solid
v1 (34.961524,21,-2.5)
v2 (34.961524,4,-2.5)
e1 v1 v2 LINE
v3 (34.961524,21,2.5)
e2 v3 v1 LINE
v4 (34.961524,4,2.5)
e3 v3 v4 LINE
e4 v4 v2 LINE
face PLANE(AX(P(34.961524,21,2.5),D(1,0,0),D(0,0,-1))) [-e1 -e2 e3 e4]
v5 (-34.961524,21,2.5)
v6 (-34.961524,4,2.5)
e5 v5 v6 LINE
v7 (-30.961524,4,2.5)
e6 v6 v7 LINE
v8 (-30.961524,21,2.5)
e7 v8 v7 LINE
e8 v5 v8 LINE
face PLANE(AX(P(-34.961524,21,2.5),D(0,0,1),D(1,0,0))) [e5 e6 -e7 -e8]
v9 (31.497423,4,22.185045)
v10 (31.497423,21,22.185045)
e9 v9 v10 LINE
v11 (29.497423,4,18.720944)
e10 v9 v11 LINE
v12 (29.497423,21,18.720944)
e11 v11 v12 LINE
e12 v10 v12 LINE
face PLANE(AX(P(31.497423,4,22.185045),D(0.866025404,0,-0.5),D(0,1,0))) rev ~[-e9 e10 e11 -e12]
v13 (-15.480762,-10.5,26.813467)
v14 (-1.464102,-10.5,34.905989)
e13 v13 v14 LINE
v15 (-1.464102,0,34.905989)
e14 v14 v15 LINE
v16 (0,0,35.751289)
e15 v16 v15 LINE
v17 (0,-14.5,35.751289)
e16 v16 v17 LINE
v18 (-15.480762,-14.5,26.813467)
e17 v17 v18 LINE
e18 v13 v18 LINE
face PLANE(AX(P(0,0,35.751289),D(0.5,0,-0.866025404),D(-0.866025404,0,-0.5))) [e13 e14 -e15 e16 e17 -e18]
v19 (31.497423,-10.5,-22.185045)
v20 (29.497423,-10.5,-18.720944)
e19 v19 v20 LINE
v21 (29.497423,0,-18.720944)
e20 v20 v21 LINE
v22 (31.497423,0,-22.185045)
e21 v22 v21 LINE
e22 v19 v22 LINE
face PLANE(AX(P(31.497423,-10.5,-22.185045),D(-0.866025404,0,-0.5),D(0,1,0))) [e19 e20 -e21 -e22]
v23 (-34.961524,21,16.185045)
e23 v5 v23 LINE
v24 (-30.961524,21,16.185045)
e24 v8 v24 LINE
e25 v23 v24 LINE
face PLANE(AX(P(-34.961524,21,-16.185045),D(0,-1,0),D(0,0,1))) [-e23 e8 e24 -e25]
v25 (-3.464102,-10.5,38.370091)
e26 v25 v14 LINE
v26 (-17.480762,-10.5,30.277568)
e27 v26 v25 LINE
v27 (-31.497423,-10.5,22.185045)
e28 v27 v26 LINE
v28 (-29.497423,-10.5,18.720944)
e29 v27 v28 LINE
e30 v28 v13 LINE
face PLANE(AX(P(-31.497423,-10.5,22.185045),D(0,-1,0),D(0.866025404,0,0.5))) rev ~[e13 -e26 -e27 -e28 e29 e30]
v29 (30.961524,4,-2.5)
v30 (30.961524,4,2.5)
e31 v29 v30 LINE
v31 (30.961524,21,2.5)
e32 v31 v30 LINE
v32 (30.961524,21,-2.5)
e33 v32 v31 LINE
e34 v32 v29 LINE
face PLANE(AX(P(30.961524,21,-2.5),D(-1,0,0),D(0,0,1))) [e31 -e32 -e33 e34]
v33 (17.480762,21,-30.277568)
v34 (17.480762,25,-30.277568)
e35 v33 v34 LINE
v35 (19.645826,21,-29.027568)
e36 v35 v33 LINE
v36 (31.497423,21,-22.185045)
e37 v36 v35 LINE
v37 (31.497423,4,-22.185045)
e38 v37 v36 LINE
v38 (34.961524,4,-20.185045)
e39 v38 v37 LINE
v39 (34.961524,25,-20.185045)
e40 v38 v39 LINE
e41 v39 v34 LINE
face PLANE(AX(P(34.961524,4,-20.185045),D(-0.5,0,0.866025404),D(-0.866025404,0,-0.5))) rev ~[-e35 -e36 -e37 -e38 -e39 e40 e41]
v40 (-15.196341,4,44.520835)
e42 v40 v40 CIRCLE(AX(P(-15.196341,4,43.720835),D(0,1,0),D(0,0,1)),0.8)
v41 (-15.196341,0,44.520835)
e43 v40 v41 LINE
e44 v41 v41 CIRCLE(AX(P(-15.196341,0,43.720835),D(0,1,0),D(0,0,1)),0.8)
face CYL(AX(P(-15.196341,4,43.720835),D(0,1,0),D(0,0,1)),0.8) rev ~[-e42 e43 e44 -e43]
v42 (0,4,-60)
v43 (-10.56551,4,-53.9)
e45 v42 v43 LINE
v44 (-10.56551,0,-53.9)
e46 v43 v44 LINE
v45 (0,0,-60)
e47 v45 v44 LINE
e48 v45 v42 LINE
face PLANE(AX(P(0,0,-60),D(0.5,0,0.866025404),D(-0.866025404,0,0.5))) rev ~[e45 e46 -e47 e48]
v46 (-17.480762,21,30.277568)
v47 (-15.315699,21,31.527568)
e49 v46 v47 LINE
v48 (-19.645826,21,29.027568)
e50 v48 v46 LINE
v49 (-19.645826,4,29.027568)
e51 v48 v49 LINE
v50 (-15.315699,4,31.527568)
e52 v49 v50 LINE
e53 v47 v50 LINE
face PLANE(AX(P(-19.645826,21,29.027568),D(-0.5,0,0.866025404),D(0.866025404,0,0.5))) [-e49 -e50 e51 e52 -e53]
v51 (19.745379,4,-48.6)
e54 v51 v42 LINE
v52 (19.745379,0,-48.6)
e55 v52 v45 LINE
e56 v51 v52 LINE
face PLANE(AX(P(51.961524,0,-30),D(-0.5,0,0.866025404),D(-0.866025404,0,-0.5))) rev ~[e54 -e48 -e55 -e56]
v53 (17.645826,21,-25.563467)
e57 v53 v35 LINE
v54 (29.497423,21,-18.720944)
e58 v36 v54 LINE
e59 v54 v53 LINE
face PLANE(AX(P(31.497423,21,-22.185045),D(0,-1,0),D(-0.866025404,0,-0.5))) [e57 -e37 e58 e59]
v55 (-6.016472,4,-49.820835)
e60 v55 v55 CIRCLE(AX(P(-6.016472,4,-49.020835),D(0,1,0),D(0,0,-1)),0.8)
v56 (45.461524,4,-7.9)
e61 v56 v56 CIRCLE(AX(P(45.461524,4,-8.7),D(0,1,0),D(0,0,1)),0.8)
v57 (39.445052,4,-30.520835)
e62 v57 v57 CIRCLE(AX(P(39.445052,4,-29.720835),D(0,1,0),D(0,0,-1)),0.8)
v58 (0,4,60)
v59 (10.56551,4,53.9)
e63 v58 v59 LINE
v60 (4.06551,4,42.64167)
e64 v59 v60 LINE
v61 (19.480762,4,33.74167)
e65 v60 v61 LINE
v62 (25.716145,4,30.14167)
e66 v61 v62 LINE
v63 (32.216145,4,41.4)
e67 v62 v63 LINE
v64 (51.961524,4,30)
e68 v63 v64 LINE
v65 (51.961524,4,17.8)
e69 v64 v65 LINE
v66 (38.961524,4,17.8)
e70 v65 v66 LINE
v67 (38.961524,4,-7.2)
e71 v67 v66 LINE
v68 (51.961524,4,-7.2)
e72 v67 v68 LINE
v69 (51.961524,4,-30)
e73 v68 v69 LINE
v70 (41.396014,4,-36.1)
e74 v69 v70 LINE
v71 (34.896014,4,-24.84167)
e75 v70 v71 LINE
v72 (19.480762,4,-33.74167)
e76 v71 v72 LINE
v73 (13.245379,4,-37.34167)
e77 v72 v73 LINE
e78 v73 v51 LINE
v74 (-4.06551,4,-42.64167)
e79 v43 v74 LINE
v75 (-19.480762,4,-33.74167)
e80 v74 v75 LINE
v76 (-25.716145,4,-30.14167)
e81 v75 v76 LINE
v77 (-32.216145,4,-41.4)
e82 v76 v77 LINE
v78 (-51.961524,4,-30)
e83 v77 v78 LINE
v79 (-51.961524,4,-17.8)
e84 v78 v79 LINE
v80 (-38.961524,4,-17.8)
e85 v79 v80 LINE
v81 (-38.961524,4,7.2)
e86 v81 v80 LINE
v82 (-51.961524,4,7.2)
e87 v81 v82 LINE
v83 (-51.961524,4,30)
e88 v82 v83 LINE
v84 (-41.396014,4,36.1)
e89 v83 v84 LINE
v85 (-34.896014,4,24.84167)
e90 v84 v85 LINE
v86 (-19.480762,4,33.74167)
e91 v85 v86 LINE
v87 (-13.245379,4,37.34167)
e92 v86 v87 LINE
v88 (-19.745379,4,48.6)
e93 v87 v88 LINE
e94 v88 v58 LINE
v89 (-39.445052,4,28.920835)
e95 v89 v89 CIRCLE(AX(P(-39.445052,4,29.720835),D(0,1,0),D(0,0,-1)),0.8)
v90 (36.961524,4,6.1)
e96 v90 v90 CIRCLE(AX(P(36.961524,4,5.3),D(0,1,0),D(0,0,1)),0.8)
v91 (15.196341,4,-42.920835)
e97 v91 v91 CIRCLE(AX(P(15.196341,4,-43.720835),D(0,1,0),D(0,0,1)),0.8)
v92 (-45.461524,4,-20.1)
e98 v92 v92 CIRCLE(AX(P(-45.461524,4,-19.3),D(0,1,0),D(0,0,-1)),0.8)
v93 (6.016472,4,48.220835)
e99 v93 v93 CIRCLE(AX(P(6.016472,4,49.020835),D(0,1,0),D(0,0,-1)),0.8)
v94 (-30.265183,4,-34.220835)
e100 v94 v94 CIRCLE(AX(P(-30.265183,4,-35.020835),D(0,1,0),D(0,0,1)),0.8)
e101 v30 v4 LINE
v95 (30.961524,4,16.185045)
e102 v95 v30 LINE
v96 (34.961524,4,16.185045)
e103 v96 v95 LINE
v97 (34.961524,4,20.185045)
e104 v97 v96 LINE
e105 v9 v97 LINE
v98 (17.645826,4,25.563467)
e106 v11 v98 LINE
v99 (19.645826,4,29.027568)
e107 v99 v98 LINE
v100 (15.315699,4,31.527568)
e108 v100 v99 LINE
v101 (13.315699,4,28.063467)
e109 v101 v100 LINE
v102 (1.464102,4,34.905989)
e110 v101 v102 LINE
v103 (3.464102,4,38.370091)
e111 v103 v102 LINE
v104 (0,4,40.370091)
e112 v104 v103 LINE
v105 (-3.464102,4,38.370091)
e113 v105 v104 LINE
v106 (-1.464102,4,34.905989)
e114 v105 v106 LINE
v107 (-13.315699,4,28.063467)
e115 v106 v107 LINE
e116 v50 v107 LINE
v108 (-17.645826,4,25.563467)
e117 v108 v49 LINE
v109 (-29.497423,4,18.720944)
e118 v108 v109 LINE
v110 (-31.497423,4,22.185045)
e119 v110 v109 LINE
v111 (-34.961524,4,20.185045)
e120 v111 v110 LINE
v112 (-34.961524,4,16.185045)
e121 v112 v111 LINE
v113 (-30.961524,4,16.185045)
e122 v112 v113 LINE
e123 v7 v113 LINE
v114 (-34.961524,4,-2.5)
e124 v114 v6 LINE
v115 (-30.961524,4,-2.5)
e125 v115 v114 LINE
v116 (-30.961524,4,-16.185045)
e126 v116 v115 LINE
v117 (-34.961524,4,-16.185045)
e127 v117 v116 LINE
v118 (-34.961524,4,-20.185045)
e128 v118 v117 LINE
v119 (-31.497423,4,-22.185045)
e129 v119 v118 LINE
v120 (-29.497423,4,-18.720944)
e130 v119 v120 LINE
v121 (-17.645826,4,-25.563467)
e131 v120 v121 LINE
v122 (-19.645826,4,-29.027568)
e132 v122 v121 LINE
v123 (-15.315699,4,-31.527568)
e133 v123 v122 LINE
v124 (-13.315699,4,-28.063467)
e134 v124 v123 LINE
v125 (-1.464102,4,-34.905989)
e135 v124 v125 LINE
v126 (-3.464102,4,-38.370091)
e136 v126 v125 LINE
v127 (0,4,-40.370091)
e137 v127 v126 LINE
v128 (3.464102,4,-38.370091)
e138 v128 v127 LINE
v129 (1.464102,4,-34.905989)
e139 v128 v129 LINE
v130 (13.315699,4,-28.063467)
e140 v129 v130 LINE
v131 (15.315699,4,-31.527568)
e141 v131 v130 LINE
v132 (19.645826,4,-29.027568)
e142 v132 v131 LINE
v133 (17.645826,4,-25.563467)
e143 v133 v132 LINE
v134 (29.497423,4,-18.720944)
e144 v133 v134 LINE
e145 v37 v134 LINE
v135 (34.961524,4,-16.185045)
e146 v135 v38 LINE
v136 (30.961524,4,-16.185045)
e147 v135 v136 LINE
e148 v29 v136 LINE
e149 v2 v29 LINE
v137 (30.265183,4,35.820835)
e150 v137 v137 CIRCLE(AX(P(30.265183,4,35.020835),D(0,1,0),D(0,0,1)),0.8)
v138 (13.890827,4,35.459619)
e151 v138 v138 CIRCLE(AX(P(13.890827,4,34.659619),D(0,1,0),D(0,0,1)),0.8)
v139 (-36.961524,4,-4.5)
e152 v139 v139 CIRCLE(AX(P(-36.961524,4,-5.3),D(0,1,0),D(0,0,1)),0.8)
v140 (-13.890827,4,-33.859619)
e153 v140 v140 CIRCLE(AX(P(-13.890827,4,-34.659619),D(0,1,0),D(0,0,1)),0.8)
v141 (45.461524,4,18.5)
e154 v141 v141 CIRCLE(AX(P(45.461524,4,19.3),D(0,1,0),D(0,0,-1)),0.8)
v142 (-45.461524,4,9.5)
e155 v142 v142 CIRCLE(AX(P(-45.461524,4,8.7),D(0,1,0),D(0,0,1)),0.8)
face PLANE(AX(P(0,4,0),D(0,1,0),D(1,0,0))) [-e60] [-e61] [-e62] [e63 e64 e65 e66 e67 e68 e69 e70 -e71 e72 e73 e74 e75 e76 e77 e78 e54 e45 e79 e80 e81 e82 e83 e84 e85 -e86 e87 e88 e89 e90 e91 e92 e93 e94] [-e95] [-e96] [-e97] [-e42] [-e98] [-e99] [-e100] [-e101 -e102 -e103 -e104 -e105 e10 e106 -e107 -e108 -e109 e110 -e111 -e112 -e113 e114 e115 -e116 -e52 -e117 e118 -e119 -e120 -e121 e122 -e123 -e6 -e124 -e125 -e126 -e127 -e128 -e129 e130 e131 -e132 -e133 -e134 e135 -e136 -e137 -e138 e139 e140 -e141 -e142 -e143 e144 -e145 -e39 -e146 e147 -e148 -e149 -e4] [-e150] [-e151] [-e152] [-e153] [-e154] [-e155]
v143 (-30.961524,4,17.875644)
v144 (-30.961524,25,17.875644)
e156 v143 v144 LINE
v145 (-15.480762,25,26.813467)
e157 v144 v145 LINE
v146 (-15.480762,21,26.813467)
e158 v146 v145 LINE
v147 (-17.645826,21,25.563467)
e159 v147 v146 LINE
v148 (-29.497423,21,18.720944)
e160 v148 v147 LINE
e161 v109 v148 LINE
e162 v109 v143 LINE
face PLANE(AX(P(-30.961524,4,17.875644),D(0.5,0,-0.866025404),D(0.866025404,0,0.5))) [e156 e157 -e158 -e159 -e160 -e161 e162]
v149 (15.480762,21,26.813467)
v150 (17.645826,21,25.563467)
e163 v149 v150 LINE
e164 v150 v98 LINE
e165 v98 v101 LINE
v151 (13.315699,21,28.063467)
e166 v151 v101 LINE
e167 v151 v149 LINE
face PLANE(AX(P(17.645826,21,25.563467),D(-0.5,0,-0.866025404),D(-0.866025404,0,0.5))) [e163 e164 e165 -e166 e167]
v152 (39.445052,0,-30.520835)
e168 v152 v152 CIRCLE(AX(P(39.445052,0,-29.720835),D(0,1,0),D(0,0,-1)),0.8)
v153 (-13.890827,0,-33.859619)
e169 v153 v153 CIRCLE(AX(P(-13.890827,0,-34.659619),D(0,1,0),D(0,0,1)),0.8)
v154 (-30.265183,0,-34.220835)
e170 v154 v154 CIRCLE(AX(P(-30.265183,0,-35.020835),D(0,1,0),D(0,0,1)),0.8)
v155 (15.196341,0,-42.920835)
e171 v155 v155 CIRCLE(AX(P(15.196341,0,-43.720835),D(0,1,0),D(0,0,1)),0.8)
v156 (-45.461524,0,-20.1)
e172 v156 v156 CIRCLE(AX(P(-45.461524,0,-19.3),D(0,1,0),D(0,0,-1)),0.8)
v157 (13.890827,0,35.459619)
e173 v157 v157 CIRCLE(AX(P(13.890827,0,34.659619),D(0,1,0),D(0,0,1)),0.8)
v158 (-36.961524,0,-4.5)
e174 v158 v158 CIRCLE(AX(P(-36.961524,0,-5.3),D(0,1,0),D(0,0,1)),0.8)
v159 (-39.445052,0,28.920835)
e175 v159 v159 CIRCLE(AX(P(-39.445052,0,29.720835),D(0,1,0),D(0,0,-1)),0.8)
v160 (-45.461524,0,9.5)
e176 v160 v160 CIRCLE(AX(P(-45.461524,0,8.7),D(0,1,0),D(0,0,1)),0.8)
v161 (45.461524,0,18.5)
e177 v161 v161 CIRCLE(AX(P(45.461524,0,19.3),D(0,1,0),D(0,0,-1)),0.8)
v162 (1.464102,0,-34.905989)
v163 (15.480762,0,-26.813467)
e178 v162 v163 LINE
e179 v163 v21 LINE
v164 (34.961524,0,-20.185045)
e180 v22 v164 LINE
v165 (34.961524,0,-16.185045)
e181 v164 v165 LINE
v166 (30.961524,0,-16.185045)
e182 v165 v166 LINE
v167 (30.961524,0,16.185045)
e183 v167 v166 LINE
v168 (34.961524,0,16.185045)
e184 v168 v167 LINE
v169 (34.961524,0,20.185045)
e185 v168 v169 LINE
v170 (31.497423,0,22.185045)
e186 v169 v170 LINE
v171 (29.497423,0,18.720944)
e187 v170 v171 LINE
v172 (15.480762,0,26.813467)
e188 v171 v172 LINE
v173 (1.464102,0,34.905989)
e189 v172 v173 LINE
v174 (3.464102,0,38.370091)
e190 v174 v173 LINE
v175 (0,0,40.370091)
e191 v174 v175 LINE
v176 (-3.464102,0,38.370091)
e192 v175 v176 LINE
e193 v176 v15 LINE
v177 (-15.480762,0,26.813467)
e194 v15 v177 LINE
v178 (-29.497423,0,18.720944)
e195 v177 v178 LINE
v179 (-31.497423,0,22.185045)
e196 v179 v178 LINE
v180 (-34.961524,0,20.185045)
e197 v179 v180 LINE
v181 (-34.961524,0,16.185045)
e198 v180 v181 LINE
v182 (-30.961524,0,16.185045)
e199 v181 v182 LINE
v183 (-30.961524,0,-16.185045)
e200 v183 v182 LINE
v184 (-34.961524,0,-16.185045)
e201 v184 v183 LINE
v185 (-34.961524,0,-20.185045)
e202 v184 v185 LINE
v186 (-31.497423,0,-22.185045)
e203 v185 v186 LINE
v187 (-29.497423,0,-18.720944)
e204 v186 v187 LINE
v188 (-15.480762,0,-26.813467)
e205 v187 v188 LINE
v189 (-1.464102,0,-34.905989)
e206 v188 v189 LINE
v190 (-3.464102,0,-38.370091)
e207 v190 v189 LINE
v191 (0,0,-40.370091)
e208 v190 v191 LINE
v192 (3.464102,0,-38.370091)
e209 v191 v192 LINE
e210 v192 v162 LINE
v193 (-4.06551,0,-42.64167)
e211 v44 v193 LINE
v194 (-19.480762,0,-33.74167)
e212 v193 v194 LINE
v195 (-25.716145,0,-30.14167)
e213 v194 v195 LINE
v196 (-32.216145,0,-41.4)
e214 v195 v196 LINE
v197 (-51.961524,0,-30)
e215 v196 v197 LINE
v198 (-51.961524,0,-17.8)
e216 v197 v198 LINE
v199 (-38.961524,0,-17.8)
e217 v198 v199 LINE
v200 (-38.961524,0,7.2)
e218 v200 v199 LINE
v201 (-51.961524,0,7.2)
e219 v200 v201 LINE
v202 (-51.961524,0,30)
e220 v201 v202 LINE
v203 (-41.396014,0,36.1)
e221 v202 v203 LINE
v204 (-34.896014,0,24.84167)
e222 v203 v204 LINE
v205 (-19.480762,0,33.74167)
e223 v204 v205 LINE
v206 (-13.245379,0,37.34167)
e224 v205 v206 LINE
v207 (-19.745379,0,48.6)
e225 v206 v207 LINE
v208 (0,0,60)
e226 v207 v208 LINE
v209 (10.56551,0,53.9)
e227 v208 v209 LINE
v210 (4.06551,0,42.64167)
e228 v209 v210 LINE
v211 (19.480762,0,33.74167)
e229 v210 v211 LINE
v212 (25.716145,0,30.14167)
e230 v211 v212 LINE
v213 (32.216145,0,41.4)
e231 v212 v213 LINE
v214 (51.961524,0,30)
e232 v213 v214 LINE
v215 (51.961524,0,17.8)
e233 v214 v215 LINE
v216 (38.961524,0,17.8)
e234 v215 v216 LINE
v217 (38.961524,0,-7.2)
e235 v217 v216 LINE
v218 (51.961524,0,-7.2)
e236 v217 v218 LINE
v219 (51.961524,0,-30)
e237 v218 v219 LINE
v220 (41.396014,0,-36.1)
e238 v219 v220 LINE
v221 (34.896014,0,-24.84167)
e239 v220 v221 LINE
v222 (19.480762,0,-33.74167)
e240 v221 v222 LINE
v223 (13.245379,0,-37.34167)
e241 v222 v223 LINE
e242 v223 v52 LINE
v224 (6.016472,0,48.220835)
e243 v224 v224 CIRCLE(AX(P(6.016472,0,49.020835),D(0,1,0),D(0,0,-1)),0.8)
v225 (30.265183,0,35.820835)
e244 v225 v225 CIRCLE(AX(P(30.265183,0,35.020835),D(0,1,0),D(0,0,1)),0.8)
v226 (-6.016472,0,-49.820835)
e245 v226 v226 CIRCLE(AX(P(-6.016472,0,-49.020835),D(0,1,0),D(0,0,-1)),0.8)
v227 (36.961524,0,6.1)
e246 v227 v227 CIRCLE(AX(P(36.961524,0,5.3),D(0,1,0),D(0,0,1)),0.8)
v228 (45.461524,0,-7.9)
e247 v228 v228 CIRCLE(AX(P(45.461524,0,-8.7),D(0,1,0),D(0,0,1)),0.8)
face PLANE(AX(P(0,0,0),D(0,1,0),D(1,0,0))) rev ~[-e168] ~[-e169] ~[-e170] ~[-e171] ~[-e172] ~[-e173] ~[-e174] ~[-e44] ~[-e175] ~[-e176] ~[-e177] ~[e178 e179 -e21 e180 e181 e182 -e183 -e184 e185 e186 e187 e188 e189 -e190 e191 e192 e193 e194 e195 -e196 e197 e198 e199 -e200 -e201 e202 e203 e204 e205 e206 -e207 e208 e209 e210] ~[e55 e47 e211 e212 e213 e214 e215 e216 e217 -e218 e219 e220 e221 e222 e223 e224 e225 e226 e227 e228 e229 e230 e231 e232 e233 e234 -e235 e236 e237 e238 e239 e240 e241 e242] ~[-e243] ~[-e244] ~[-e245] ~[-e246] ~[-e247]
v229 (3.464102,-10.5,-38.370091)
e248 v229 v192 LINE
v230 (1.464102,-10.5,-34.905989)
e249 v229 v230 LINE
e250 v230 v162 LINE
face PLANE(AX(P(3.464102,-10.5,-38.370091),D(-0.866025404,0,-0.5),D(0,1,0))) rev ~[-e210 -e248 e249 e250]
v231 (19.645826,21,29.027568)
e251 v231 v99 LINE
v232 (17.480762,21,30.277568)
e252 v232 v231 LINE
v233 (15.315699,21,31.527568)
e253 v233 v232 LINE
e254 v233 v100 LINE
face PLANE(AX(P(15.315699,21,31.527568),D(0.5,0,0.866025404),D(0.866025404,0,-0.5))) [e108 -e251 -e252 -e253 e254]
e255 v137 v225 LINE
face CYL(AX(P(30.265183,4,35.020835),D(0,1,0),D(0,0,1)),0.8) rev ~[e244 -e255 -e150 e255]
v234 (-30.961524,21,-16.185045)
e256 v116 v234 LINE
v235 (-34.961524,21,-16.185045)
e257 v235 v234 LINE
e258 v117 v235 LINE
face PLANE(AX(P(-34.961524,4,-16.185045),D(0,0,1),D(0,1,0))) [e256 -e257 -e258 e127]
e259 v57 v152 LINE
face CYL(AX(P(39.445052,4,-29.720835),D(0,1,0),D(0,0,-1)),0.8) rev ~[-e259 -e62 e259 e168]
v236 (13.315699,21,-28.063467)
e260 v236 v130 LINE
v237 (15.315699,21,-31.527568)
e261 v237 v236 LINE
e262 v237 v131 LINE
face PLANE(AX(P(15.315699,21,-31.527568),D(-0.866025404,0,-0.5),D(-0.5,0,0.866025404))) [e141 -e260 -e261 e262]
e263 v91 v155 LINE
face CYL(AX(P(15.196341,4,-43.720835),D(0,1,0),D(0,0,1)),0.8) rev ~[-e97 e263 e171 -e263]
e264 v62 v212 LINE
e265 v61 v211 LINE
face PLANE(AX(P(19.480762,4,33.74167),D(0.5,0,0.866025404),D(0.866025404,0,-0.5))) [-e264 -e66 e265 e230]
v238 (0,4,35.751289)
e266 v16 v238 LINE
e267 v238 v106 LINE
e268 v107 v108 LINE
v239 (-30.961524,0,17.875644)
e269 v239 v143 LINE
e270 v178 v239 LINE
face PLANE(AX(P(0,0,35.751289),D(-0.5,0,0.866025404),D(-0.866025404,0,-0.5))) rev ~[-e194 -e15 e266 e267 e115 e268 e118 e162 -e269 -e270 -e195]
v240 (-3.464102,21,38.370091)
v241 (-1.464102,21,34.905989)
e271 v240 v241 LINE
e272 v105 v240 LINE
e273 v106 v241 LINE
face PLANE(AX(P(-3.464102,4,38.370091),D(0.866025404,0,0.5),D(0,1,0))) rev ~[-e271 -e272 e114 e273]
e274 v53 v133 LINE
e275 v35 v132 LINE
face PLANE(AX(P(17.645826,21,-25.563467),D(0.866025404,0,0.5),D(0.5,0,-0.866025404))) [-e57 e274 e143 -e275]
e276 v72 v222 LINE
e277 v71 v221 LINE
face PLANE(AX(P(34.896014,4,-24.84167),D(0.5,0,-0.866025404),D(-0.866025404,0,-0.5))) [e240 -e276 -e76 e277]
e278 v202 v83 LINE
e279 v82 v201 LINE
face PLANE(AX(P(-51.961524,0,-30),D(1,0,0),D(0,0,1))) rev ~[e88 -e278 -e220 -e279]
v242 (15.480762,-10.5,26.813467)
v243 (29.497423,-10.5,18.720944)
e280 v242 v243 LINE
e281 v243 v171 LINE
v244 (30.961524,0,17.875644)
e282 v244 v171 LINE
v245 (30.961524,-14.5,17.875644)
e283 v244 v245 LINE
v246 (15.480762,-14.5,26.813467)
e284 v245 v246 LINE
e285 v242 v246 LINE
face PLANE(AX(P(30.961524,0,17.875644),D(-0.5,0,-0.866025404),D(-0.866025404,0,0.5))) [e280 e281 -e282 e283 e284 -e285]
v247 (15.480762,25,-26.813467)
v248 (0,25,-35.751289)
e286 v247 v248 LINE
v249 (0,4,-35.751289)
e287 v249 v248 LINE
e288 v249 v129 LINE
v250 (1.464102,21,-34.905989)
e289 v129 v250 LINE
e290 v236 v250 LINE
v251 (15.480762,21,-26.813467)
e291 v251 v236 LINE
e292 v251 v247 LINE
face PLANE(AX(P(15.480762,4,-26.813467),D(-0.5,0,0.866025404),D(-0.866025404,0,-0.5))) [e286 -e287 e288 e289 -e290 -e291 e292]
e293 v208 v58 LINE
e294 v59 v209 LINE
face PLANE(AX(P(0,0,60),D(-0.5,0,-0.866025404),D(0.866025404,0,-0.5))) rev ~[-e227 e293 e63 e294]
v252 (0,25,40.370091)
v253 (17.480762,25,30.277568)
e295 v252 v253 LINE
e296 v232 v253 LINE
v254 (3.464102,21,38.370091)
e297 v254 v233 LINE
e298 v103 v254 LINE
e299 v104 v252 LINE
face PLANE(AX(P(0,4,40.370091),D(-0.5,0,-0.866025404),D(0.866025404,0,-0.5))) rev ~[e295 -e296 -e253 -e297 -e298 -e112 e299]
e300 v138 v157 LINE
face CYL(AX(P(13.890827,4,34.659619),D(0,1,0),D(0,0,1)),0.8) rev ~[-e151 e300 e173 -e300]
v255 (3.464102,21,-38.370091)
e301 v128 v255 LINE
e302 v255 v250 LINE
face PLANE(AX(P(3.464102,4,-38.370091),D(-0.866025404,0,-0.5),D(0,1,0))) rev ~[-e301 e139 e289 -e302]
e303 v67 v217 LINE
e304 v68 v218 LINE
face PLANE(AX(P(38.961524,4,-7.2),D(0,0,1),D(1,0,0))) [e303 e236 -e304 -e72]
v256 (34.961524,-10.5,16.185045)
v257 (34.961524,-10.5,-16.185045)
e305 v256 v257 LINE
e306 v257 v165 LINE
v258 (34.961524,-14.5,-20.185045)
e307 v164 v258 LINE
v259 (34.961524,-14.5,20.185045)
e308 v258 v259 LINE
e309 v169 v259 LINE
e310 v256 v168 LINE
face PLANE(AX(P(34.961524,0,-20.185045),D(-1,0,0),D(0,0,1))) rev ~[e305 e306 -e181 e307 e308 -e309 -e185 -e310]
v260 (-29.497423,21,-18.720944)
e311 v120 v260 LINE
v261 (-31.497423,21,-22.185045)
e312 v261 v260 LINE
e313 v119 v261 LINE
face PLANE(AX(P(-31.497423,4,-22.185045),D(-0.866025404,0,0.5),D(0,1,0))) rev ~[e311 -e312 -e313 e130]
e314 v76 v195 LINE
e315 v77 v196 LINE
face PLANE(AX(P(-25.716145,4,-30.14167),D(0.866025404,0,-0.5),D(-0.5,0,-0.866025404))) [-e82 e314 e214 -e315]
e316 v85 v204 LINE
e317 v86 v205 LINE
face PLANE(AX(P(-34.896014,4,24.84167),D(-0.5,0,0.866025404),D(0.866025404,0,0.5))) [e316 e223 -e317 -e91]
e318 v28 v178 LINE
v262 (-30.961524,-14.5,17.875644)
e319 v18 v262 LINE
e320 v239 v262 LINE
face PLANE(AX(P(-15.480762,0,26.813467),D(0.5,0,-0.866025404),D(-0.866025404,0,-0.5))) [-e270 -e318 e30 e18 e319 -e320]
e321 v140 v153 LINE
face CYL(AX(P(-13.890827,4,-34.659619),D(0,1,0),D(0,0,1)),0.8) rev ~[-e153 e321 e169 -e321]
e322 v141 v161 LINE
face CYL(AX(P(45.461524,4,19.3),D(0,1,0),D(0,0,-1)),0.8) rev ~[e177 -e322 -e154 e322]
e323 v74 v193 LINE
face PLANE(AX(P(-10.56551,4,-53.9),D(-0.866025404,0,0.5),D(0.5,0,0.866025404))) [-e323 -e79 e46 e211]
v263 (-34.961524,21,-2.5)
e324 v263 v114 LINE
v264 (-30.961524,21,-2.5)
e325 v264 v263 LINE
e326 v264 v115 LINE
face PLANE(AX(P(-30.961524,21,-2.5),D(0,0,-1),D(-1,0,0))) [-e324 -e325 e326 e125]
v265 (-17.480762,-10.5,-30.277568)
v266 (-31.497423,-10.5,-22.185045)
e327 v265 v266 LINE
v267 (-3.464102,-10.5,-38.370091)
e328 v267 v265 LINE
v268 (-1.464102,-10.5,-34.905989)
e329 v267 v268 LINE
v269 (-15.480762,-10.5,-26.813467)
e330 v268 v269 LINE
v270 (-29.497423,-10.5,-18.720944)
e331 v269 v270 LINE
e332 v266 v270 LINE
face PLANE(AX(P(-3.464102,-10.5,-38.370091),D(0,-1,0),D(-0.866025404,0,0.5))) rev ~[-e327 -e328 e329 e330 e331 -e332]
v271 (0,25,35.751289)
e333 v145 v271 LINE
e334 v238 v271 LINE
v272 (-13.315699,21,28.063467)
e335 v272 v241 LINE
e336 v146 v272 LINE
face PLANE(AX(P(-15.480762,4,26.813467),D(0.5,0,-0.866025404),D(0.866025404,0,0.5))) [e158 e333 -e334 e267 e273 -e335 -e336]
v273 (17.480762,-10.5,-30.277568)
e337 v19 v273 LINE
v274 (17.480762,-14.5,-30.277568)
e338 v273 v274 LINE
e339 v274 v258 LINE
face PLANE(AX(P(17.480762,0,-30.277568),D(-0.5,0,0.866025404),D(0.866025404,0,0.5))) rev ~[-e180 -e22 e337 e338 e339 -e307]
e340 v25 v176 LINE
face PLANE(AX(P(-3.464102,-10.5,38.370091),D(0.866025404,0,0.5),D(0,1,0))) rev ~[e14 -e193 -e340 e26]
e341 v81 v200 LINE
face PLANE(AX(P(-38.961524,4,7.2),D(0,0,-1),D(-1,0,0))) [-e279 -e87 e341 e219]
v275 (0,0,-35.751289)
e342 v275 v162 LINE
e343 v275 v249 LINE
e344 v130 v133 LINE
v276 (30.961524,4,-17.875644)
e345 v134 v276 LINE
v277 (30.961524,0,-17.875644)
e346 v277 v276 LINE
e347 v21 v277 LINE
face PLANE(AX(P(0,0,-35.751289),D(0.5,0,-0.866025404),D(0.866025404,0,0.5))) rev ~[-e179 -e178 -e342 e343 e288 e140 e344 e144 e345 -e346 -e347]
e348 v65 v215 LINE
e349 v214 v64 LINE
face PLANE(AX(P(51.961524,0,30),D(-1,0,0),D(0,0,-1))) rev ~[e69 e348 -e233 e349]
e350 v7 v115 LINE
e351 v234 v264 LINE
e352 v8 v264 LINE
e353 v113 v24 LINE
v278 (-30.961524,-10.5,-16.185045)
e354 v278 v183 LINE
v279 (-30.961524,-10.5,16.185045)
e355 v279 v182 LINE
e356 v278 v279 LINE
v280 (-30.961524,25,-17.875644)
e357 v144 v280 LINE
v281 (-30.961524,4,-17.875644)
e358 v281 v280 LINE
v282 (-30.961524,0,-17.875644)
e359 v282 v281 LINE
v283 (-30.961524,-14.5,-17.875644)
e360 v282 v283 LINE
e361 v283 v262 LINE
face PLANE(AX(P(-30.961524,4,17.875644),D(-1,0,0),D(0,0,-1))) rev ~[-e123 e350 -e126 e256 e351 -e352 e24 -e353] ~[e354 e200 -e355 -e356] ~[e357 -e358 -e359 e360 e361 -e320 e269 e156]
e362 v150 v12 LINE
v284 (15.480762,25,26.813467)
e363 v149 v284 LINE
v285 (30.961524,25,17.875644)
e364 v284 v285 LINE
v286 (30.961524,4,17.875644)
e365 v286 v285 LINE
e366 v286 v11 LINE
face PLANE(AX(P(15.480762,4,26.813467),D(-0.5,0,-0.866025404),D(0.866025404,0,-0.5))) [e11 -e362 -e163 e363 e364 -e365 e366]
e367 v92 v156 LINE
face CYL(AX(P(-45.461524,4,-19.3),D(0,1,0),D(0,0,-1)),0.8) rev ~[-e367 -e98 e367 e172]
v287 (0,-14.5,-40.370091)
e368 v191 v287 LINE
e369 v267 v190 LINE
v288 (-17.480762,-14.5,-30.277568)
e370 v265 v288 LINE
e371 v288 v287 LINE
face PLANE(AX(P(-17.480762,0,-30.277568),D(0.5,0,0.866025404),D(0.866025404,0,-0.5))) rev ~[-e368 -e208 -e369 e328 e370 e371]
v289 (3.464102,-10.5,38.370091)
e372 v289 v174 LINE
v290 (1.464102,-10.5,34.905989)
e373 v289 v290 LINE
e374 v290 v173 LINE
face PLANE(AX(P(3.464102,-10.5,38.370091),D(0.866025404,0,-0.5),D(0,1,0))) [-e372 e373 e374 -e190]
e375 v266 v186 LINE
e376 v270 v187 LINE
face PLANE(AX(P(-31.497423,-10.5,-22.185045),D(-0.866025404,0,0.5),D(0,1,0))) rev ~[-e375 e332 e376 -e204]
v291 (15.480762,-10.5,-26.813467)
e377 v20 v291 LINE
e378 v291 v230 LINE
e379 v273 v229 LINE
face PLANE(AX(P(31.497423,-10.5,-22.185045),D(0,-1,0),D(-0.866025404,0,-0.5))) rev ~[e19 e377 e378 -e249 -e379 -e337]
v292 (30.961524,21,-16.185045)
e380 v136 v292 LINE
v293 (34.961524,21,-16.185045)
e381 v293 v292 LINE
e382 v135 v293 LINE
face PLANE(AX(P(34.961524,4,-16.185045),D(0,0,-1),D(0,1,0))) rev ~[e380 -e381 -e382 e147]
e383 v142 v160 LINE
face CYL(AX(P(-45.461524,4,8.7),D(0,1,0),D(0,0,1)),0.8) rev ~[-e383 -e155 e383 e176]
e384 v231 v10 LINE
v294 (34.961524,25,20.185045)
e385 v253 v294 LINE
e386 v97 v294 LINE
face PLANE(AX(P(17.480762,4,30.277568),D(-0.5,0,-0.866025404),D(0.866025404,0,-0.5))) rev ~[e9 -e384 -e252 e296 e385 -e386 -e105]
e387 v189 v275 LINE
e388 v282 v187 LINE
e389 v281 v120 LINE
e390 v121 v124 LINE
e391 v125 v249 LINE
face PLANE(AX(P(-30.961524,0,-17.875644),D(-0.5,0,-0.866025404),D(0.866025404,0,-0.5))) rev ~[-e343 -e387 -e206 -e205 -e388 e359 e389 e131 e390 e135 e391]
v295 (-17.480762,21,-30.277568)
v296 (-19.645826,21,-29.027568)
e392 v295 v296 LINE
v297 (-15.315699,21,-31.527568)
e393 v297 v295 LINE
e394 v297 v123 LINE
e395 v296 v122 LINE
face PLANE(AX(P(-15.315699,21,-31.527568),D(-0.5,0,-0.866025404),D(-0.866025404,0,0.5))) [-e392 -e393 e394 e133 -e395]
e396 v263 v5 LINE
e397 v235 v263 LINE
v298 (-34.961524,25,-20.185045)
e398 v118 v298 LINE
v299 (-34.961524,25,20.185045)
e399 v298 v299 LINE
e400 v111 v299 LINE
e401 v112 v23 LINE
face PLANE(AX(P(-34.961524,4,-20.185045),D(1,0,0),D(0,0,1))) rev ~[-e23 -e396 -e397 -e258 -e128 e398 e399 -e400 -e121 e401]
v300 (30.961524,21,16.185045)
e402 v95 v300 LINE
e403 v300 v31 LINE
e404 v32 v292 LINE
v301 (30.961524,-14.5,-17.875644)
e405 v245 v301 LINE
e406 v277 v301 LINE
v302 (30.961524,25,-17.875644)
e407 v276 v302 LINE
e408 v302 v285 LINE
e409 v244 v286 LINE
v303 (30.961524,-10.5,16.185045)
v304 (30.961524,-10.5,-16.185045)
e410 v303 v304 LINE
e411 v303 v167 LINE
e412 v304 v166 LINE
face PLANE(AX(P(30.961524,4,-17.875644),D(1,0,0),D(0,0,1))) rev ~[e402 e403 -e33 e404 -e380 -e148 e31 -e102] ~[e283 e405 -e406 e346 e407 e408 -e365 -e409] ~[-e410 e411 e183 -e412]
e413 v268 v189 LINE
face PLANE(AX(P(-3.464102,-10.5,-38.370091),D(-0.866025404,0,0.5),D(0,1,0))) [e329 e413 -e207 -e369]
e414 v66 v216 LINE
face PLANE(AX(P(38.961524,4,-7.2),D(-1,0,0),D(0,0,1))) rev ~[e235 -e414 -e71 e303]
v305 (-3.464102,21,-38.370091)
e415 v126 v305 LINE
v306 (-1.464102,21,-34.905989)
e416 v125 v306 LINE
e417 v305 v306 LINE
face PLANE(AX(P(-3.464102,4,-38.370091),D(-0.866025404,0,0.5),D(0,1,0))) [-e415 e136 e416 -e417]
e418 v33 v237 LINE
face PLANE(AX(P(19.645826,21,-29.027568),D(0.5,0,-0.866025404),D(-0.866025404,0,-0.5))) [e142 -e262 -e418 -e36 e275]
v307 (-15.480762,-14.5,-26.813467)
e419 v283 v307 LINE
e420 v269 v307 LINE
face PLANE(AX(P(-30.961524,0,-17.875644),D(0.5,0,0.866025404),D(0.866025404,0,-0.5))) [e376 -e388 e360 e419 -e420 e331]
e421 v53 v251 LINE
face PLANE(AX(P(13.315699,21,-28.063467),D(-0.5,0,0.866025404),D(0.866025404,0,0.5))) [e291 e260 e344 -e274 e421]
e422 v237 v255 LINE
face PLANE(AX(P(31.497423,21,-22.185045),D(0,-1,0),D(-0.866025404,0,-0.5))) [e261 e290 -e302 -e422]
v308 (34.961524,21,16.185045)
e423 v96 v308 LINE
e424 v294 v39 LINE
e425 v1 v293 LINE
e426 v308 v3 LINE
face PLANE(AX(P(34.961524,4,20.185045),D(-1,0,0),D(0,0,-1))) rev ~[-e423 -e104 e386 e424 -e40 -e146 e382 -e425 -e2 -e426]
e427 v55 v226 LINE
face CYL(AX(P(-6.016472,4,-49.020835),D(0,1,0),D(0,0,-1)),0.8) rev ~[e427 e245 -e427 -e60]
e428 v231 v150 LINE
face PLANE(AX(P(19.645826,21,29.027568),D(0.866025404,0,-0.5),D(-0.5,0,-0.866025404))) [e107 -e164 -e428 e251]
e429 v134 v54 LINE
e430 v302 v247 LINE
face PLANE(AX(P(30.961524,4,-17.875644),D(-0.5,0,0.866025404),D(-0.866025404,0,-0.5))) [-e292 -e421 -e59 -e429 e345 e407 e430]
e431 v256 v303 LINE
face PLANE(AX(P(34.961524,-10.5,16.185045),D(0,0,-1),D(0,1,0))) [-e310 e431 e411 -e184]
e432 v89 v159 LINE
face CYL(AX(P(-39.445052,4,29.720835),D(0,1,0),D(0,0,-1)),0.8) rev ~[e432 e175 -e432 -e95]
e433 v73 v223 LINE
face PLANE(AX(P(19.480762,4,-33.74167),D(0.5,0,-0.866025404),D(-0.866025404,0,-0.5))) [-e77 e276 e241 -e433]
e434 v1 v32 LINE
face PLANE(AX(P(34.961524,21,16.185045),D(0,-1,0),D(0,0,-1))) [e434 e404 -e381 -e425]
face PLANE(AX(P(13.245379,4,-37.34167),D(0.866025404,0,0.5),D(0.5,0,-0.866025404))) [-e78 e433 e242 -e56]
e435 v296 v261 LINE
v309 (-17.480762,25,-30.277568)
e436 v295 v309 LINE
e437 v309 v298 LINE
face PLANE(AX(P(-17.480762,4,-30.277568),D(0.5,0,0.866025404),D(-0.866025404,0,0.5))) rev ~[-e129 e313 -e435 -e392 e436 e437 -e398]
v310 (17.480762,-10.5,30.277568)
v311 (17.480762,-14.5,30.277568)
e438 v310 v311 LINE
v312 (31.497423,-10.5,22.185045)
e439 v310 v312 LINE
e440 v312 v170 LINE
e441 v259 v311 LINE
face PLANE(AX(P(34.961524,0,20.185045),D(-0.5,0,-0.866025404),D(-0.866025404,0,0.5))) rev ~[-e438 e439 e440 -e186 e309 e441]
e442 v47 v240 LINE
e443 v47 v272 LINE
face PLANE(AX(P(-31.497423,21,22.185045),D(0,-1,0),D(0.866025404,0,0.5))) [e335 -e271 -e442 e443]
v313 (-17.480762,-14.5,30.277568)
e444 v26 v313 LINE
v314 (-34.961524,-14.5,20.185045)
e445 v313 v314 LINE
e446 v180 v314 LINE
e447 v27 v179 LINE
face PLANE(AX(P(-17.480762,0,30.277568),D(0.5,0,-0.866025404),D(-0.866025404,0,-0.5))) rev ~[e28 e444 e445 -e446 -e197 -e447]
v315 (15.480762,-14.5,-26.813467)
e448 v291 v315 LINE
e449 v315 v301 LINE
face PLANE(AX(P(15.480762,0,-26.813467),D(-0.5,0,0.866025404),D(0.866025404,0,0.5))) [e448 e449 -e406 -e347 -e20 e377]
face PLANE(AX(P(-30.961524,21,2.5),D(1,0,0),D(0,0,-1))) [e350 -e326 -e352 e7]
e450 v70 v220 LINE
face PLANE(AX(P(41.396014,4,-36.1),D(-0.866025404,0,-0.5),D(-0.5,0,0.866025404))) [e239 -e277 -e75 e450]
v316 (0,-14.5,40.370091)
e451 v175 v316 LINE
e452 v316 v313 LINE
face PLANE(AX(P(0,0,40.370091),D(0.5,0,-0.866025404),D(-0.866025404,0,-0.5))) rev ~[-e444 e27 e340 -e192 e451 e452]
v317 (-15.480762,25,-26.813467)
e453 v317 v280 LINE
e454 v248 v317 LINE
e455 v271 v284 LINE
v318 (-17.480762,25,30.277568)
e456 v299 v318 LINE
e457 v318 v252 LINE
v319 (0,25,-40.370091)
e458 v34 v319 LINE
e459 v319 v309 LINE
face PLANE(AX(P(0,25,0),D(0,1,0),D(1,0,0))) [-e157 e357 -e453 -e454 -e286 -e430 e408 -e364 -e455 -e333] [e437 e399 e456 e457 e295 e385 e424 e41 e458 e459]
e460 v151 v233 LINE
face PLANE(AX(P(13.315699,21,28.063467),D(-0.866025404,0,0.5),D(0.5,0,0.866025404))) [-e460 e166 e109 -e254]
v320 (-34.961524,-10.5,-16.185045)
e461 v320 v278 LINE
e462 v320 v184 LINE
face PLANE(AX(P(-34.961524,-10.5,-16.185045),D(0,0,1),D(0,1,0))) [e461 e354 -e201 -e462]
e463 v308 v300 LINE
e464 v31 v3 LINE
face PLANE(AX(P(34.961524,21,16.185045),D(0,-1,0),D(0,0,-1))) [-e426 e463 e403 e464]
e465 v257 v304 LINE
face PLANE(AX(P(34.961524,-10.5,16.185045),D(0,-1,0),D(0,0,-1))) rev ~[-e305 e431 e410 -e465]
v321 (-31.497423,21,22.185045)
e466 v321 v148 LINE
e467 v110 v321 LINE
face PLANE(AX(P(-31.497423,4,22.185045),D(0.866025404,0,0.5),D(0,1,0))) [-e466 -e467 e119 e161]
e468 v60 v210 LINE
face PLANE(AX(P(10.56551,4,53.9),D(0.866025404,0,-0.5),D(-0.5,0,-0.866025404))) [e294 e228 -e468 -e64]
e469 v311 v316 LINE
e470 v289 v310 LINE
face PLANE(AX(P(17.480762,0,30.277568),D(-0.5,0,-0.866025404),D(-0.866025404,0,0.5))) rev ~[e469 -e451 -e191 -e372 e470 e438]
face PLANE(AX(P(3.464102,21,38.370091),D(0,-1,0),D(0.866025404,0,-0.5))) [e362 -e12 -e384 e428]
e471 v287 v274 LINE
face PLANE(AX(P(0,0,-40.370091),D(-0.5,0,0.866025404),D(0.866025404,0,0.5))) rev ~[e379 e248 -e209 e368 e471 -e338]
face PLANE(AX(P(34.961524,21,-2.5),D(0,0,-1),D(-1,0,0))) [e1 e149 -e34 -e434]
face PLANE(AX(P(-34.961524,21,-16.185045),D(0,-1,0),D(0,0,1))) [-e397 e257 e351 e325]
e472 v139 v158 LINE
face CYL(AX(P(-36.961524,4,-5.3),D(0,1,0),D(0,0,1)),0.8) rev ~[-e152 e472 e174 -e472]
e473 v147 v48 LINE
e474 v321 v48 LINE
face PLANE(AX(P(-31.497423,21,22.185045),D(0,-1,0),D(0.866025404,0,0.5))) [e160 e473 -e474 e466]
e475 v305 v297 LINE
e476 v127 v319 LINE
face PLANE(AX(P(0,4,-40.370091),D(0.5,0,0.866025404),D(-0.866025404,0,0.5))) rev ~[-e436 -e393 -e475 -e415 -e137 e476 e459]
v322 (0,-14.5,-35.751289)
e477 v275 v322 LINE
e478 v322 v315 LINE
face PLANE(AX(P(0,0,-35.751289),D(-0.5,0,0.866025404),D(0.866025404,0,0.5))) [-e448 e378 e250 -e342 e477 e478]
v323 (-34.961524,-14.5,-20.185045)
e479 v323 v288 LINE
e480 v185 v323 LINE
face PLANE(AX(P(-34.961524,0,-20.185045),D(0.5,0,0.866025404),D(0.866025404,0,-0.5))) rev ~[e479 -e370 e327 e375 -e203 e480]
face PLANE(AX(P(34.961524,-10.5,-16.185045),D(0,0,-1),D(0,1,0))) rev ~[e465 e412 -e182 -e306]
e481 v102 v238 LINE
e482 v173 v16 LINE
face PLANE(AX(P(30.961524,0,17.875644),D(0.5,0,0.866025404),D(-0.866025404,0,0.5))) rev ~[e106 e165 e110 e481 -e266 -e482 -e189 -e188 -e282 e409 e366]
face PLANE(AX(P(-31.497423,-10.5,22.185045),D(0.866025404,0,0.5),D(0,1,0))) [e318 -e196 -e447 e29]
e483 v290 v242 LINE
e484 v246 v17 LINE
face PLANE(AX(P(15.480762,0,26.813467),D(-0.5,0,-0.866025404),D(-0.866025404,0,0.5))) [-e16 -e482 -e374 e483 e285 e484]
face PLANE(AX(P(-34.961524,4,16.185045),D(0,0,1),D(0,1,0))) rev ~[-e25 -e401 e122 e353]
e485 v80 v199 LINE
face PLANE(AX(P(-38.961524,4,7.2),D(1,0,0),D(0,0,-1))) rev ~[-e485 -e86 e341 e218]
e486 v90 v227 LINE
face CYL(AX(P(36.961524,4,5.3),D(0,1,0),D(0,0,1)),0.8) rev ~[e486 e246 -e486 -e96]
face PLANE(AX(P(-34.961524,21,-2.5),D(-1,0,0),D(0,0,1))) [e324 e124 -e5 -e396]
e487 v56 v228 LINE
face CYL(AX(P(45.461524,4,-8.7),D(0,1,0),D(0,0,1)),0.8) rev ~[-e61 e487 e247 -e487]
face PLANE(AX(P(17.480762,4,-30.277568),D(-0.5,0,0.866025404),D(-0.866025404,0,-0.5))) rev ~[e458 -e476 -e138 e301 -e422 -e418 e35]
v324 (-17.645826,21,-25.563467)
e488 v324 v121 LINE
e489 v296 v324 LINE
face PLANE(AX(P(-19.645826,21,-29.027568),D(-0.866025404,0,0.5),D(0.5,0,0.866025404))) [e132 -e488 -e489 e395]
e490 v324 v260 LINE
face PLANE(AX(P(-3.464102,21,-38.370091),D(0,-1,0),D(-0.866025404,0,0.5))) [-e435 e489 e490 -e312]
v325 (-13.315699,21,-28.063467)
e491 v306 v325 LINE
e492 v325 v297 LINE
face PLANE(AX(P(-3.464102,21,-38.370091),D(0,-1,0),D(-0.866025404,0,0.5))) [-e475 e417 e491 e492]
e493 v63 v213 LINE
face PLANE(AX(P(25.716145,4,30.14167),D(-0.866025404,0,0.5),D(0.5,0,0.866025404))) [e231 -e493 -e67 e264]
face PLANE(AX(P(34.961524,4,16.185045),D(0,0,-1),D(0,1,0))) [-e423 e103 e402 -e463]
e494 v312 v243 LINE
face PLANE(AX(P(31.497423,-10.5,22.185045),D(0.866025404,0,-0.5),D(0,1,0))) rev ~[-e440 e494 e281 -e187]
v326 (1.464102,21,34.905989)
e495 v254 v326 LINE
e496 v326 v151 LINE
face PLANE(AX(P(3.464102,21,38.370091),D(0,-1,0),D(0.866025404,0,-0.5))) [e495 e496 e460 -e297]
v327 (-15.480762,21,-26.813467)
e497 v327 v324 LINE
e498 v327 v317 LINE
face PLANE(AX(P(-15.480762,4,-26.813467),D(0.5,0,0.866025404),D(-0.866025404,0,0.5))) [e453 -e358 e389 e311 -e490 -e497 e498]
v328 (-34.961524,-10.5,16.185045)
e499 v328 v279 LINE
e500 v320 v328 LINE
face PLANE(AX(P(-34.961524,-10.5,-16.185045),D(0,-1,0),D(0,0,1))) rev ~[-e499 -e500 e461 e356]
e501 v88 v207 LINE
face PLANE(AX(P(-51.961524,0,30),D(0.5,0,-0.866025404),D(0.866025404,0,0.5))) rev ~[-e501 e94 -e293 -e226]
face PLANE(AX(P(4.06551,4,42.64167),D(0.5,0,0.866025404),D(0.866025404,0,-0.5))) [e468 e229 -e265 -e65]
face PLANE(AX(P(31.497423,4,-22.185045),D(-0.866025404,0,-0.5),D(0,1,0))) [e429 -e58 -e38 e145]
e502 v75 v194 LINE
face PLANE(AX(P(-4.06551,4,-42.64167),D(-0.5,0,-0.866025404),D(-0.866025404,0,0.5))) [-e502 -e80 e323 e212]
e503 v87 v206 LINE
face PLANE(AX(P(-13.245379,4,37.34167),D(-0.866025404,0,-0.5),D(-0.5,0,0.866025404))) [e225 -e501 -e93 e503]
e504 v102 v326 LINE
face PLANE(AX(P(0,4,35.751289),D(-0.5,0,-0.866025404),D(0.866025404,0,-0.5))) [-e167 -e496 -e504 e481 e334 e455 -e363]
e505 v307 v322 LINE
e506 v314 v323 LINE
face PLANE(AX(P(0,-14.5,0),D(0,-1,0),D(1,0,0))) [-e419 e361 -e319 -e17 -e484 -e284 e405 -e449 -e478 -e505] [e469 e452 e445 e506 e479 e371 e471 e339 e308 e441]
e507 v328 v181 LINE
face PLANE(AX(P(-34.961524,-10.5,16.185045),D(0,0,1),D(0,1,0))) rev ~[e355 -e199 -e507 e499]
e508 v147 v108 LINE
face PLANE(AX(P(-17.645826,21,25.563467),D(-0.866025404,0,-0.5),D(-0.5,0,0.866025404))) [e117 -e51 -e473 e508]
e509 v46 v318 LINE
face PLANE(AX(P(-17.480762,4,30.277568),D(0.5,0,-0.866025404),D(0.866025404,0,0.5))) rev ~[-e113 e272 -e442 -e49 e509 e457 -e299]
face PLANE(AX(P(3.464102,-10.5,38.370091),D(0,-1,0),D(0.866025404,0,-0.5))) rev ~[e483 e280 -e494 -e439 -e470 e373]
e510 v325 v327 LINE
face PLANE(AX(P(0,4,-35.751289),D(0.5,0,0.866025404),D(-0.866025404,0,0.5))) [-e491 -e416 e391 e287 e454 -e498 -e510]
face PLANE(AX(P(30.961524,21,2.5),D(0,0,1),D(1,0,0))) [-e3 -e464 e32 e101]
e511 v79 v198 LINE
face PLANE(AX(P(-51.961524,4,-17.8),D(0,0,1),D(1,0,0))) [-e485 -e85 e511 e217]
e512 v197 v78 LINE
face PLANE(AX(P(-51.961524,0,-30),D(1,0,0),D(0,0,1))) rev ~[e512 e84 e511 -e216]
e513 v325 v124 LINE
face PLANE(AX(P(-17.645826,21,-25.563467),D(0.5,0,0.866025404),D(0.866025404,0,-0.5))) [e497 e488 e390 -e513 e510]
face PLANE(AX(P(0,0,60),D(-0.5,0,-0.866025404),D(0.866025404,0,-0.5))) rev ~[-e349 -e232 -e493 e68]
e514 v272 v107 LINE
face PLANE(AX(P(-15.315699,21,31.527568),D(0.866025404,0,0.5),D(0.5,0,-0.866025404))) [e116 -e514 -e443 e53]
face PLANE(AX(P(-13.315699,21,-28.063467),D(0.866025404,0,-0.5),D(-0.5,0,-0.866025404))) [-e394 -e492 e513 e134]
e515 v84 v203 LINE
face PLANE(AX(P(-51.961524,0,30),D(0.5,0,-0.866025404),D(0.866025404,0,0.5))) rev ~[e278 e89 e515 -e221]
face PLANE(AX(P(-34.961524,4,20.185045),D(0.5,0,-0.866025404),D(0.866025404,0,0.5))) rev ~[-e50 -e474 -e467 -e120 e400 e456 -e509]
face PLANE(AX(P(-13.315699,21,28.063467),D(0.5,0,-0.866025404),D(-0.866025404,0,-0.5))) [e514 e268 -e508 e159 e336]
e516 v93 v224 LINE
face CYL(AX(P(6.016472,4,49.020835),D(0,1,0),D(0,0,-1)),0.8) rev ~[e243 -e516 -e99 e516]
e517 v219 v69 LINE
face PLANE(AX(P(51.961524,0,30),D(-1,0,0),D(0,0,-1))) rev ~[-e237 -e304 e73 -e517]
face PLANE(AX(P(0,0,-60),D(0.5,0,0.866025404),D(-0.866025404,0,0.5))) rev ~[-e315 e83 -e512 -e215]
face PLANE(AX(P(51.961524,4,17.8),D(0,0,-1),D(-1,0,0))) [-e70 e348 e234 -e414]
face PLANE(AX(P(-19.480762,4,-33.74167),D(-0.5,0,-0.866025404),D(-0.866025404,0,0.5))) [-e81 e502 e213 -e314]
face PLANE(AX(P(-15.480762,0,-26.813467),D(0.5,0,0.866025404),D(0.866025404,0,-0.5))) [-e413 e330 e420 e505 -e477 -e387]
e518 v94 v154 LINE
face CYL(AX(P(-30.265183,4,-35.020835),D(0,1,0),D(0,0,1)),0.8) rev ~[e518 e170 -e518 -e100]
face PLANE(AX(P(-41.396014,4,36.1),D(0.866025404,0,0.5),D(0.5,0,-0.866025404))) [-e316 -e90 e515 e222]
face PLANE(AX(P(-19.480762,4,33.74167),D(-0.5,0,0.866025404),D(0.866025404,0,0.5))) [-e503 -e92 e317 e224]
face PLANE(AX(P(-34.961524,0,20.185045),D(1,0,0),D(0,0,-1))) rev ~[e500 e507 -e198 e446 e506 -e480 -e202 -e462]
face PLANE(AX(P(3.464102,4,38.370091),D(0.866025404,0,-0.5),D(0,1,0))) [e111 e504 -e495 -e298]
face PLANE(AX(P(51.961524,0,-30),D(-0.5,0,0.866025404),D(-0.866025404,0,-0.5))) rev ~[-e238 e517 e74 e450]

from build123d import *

# Parameters (mm, degrees)
BOSS_EXTRUDE1_DEPTH = 4
CUT_EXTRUDE1_DEPTH  = 4
SKETCH3_R           = 0.8
CUT_EXTRUDE2_DEPTH  = 4
SKETCH4_R           = 0.8
CUT_EXTRUDE3_DEPTH  = 4
BOSS_EXTRUDE2_DEPTH = 14.5
CUT_EXTRUDE4_DEPTH  = 4
SKETCH15_W          = 32.370090848
SKETCH15_H          = 10.5
CUT_EXTRUDE6_DEPTH  = 4
CIRPATTERN1_COUNT   = 6
BOSS_EXTRUDE3_DEPTH = 21
SKETCH19_W          = 32.370090848
SKETCH19_H          = 17
CUT_EXTRUDE7_DEPTH  = 4
CIRPATTERN2_COUNT   = 6
BOSS_EXTRUDE4_DEPTH = 17
CIRPATTERN3_COUNT   = 6


with BuildPart() as part:
    # Sketch1 → Boss-Extrude1 (new body)
    with BuildSketch(Plane(origin=(0, 0, 0), x_dir=(1, 0, 0), z_dir=(0, 1, 0))):
        Polygon((0, 60), (-51.961524227, 30), (-51.961524227, -30), (0, -60), (51.961524227, -30), (51.961524227, 30), align=None)
    extrude(amount=BOSS_EXTRUDE1_DEPTH)

    # Sketch2 → Cut-Extrude1 (cut)
    with BuildSketch(Plane(origin=(0, 4, 0), x_dir=(1, 0, 0), z_dir=(0, 1, 0))):
        Polygon((38.961524227, 0), (38.961524227, 7.2), (51.961524227, 7.2), (51.961524227, -17.8), (38.961524227, -17.8), align=None)
        Polygon((19.480762114, 33.741669751), (13.245379206, 37.341669751), (19.745379206, 48.6), (41.396014301, 36.1), (34.896014301, 24.841669751), align=None)
        Polygon((19.480762114, -33.741669751), (25.716145021, -30.141669751), (32.216145021, -41.4), (10.565509926, -53.9), (4.065509926, -42.641669751), align=None)
        Polygon((-19.480762114, -33.741669751), (-13.245379206, -37.341669751), (-19.745379206, -48.6), (-41.396014301, -36.1), (-34.896014301, -24.841669751), align=None)
        Polygon((-38.961524227, 0), (-38.961524227, -7.2), (-51.961524227, -7.2), (-51.961524227, 17.8), (-38.961524227, 17.8), align=None)
        Polygon((-19.480762114, 33.741669751), (-25.716145021, 30.141669751), (-32.216145021, 41.4), (-10.565509926, 53.9), (-4.065509926, 42.641669751), align=None)
    extrude(amount=-CUT_EXTRUDE1_DEPTH, mode=Mode.SUBTRACT)

    # Sketch3 → Cut-Extrude2 (cut)
    with BuildSketch(Plane(origin=(0, 4, 0), x_dir=(1, 0, 0), z_dir=(0, 1, 0))):
        with Locations((15.196341101, 43.720834875)):
            Circle(SKETCH3_R)
        with Locations((39.445052407, 29.720834875)):
            Circle(SKETCH3_R)
        with Locations((45.461524227, 8.7)):
            Circle(SKETCH3_R)
        with Locations((45.461524227, -19.3)):
            Circle(SKETCH3_R)
        with Locations((30.265183126, -35.020834875)):
            Circle(SKETCH3_R)
        with Locations((6.016471821, -49.020834875)):
            Circle(SKETCH3_R)
        with Locations((-15.196341101, -43.720834875)):
            Circle(SKETCH3_R)
        with Locations((-39.445052407, -29.720834875)):
            Circle(SKETCH3_R)
        with Locations((-45.461524227, -8.7)):
            Circle(SKETCH3_R)
        with Locations((-45.461524227, 19.3)):
            Circle(SKETCH3_R)
        with Locations((-30.265183126, 35.020834875)):
            Circle(SKETCH3_R)
        with Locations((-6.01647182, 49.020834875)):
            Circle(SKETCH3_R)
    extrude(amount=-CUT_EXTRUDE2_DEPTH, mode=Mode.SUBTRACT)

    # Sketch4 → Cut-Extrude3 (cut)
    with BuildSketch(Plane(origin=(0, 4, 0), x_dir=(1, 0, 0), z_dir=(0, 1, 0))):
        with Locations((36.961524227, -5.3)):
            Circle(SKETCH4_R)
        with Locations((13.890827473, -34.659618943)):
            Circle(SKETCH4_R)
        with Locations((-36.961524227, 5.3)):
            Circle(SKETCH4_R)
        with Locations((-13.890827473, 34.659618943)):
            Circle(SKETCH4_R)
    extrude(amount=-CUT_EXTRUDE3_DEPTH, mode=Mode.SUBTRACT)

    # Sketch12 → Boss-Extrude2 (add)
    with BuildSketch(Plane.XZ):
        Polygon((34.961524227, 0), (34.961524227, 20.185045424), (17.480762114, 30.277568136), (0, 40.370090848), (-17.480762114, 30.277568136), (-34.961524227, 20.185045424), (-34.961524227, 0), (-34.961524227, -20.185045424), (-17.480762114, -30.277568136), (0, -40.370090848), (17.480762114, -30.277568136), (34.961524227, -20.185045424), align=None)
        Polygon((-30.961524227, 0), (-30.961524227, -17.875644347), (-15.480762114, -26.813466521), (0, -35.751288694), (15.480762114, -26.813466521), (30.961524227, -17.875644347), (30.961524227, 0), (30.961524227, 17.875644347), (15.480762114, 26.813466521), (0, 35.751288694), (-15.480762114, 26.813466521), (-30.961524227, 17.875644347), align=None, mode=Mode.SUBTRACT)
    extrude(amount=BOSS_EXTRUDE2_DEPTH)

    # Sketch14 → Cut-Extrude4 (cut)
    with BuildSketch(Plane.XZ):
        Polygon((0, -35.751288694), (30.961524227, -17.875644347), (30.961524227, 17.875644347), (0, 35.751288694), (-30.961524227, 17.875644347), (-30.961524227, -17.875644347), align=None)
    extrude(amount=-CUT_EXTRUDE4_DEPTH, mode=Mode.SUBTRACT)

    # Sketch15 → Cut-Extrude6 (cut)
    with BuildSketch(Plane.ZY.offset(34.961524227)):
        with Locations((0, -5.25)):
            Rectangle(SKETCH15_W, SKETCH15_H)
    cut_extrude6 = extrude(amount=-CUT_EXTRUDE6_DEPTH, mode=Mode.SUBTRACT)

    # CirPattern1: Cut-Extrude6 ×6 about axis
    cirpattern1_axis = Axis((0, 0, 0), (0, 1, 0))
    for i in range(1, CIRPATTERN1_COUNT):
        add(cut_extrude6.rotate(cirpattern1_axis, i * 360 / CIRPATTERN1_COUNT), mode=Mode.SUBTRACT)

    # Sketch17 → Boss-Extrude3 (add)
    with BuildSketch(Plane(origin=(0, 4, 0), x_dir=(1, 0, 0), z_dir=(0, 1, 0))):
        Polygon((-34.961524227, 0), (-34.961524227, -20.185045424), (-17.480762114, -30.277568136), (0, -40.370090848), (17.480762114, -30.277568136), (34.961524227, -20.185045424), (34.961524227, 0), (34.961524227, 20.185045424), (17.480762114, 30.277568136), (0, 40.370090848), (-17.480762114, 30.277568136), (-34.961524227, 20.185045424), align=None)
        Polygon((30.961524227, -17.875644347), (30.961524227, 0), (30.961524227, 17.875644347), (15.480762114, 26.813466521), (0, 35.751288694), (-15.480762114, 26.813466521), (-30.961524227, 17.875644347), (-30.961524227, 0), (-30.961524227, -17.875644347), (-15.480762114, -26.813466521), (0, -35.751288694), (15.480762114, -26.813466521), align=None, mode=Mode.SUBTRACT)
    extrude(amount=BOSS_EXTRUDE3_DEPTH)

    # Sketch19 → Cut-Extrude7 (cut)
    with BuildSketch(Plane(origin=(17.480762114, 0, 30.277568136), x_dir=(0.8660254037844386, 0, -0.5000000000000001), z_dir=(0.5000000000000001, 0, 0.8660254037844386))):
        with Locations((0, 12.5)):
            Rectangle(SKETCH19_W, SKETCH19_H)
    cut_extrude7 = extrude(amount=-CUT_EXTRUDE7_DEPTH, mode=Mode.SUBTRACT)

    # CirPattern2: Cut-Extrude7 ×6 about axis
    cirpattern2_axis = Axis((0, 0, 0), (0, 1, 0))
    for i in range(1, CIRPATTERN2_COUNT):
        add(cut_extrude7.rotate(cirpattern2_axis, i * 360 / CIRPATTERN2_COUNT), mode=Mode.SUBTRACT)

    # Sketch23 → Boss-Extrude4 (add)
    with BuildSketch(Plane.XZ.offset(-21)):
        Polygon((15.315698604, 31.527568136), (19.645825623, 29.027568136), (17.645825623, 25.563466521), (13.315698604, 28.063466521), align=None)
    boss_extrude4 = extrude(amount=BOSS_EXTRUDE4_DEPTH)

    # CirPattern3: Boss-Extrude4 ×6 about axis
    cirpattern3_axis = Axis((0, 0, 0), (0, 1, 0))
    for i in range(1, CIRPATTERN3_COUNT):
        add(boss_extrude4.rotate(cirpattern3_axis, i * 360 / CIRPATTERN3_COUNT))


solid = part.part
